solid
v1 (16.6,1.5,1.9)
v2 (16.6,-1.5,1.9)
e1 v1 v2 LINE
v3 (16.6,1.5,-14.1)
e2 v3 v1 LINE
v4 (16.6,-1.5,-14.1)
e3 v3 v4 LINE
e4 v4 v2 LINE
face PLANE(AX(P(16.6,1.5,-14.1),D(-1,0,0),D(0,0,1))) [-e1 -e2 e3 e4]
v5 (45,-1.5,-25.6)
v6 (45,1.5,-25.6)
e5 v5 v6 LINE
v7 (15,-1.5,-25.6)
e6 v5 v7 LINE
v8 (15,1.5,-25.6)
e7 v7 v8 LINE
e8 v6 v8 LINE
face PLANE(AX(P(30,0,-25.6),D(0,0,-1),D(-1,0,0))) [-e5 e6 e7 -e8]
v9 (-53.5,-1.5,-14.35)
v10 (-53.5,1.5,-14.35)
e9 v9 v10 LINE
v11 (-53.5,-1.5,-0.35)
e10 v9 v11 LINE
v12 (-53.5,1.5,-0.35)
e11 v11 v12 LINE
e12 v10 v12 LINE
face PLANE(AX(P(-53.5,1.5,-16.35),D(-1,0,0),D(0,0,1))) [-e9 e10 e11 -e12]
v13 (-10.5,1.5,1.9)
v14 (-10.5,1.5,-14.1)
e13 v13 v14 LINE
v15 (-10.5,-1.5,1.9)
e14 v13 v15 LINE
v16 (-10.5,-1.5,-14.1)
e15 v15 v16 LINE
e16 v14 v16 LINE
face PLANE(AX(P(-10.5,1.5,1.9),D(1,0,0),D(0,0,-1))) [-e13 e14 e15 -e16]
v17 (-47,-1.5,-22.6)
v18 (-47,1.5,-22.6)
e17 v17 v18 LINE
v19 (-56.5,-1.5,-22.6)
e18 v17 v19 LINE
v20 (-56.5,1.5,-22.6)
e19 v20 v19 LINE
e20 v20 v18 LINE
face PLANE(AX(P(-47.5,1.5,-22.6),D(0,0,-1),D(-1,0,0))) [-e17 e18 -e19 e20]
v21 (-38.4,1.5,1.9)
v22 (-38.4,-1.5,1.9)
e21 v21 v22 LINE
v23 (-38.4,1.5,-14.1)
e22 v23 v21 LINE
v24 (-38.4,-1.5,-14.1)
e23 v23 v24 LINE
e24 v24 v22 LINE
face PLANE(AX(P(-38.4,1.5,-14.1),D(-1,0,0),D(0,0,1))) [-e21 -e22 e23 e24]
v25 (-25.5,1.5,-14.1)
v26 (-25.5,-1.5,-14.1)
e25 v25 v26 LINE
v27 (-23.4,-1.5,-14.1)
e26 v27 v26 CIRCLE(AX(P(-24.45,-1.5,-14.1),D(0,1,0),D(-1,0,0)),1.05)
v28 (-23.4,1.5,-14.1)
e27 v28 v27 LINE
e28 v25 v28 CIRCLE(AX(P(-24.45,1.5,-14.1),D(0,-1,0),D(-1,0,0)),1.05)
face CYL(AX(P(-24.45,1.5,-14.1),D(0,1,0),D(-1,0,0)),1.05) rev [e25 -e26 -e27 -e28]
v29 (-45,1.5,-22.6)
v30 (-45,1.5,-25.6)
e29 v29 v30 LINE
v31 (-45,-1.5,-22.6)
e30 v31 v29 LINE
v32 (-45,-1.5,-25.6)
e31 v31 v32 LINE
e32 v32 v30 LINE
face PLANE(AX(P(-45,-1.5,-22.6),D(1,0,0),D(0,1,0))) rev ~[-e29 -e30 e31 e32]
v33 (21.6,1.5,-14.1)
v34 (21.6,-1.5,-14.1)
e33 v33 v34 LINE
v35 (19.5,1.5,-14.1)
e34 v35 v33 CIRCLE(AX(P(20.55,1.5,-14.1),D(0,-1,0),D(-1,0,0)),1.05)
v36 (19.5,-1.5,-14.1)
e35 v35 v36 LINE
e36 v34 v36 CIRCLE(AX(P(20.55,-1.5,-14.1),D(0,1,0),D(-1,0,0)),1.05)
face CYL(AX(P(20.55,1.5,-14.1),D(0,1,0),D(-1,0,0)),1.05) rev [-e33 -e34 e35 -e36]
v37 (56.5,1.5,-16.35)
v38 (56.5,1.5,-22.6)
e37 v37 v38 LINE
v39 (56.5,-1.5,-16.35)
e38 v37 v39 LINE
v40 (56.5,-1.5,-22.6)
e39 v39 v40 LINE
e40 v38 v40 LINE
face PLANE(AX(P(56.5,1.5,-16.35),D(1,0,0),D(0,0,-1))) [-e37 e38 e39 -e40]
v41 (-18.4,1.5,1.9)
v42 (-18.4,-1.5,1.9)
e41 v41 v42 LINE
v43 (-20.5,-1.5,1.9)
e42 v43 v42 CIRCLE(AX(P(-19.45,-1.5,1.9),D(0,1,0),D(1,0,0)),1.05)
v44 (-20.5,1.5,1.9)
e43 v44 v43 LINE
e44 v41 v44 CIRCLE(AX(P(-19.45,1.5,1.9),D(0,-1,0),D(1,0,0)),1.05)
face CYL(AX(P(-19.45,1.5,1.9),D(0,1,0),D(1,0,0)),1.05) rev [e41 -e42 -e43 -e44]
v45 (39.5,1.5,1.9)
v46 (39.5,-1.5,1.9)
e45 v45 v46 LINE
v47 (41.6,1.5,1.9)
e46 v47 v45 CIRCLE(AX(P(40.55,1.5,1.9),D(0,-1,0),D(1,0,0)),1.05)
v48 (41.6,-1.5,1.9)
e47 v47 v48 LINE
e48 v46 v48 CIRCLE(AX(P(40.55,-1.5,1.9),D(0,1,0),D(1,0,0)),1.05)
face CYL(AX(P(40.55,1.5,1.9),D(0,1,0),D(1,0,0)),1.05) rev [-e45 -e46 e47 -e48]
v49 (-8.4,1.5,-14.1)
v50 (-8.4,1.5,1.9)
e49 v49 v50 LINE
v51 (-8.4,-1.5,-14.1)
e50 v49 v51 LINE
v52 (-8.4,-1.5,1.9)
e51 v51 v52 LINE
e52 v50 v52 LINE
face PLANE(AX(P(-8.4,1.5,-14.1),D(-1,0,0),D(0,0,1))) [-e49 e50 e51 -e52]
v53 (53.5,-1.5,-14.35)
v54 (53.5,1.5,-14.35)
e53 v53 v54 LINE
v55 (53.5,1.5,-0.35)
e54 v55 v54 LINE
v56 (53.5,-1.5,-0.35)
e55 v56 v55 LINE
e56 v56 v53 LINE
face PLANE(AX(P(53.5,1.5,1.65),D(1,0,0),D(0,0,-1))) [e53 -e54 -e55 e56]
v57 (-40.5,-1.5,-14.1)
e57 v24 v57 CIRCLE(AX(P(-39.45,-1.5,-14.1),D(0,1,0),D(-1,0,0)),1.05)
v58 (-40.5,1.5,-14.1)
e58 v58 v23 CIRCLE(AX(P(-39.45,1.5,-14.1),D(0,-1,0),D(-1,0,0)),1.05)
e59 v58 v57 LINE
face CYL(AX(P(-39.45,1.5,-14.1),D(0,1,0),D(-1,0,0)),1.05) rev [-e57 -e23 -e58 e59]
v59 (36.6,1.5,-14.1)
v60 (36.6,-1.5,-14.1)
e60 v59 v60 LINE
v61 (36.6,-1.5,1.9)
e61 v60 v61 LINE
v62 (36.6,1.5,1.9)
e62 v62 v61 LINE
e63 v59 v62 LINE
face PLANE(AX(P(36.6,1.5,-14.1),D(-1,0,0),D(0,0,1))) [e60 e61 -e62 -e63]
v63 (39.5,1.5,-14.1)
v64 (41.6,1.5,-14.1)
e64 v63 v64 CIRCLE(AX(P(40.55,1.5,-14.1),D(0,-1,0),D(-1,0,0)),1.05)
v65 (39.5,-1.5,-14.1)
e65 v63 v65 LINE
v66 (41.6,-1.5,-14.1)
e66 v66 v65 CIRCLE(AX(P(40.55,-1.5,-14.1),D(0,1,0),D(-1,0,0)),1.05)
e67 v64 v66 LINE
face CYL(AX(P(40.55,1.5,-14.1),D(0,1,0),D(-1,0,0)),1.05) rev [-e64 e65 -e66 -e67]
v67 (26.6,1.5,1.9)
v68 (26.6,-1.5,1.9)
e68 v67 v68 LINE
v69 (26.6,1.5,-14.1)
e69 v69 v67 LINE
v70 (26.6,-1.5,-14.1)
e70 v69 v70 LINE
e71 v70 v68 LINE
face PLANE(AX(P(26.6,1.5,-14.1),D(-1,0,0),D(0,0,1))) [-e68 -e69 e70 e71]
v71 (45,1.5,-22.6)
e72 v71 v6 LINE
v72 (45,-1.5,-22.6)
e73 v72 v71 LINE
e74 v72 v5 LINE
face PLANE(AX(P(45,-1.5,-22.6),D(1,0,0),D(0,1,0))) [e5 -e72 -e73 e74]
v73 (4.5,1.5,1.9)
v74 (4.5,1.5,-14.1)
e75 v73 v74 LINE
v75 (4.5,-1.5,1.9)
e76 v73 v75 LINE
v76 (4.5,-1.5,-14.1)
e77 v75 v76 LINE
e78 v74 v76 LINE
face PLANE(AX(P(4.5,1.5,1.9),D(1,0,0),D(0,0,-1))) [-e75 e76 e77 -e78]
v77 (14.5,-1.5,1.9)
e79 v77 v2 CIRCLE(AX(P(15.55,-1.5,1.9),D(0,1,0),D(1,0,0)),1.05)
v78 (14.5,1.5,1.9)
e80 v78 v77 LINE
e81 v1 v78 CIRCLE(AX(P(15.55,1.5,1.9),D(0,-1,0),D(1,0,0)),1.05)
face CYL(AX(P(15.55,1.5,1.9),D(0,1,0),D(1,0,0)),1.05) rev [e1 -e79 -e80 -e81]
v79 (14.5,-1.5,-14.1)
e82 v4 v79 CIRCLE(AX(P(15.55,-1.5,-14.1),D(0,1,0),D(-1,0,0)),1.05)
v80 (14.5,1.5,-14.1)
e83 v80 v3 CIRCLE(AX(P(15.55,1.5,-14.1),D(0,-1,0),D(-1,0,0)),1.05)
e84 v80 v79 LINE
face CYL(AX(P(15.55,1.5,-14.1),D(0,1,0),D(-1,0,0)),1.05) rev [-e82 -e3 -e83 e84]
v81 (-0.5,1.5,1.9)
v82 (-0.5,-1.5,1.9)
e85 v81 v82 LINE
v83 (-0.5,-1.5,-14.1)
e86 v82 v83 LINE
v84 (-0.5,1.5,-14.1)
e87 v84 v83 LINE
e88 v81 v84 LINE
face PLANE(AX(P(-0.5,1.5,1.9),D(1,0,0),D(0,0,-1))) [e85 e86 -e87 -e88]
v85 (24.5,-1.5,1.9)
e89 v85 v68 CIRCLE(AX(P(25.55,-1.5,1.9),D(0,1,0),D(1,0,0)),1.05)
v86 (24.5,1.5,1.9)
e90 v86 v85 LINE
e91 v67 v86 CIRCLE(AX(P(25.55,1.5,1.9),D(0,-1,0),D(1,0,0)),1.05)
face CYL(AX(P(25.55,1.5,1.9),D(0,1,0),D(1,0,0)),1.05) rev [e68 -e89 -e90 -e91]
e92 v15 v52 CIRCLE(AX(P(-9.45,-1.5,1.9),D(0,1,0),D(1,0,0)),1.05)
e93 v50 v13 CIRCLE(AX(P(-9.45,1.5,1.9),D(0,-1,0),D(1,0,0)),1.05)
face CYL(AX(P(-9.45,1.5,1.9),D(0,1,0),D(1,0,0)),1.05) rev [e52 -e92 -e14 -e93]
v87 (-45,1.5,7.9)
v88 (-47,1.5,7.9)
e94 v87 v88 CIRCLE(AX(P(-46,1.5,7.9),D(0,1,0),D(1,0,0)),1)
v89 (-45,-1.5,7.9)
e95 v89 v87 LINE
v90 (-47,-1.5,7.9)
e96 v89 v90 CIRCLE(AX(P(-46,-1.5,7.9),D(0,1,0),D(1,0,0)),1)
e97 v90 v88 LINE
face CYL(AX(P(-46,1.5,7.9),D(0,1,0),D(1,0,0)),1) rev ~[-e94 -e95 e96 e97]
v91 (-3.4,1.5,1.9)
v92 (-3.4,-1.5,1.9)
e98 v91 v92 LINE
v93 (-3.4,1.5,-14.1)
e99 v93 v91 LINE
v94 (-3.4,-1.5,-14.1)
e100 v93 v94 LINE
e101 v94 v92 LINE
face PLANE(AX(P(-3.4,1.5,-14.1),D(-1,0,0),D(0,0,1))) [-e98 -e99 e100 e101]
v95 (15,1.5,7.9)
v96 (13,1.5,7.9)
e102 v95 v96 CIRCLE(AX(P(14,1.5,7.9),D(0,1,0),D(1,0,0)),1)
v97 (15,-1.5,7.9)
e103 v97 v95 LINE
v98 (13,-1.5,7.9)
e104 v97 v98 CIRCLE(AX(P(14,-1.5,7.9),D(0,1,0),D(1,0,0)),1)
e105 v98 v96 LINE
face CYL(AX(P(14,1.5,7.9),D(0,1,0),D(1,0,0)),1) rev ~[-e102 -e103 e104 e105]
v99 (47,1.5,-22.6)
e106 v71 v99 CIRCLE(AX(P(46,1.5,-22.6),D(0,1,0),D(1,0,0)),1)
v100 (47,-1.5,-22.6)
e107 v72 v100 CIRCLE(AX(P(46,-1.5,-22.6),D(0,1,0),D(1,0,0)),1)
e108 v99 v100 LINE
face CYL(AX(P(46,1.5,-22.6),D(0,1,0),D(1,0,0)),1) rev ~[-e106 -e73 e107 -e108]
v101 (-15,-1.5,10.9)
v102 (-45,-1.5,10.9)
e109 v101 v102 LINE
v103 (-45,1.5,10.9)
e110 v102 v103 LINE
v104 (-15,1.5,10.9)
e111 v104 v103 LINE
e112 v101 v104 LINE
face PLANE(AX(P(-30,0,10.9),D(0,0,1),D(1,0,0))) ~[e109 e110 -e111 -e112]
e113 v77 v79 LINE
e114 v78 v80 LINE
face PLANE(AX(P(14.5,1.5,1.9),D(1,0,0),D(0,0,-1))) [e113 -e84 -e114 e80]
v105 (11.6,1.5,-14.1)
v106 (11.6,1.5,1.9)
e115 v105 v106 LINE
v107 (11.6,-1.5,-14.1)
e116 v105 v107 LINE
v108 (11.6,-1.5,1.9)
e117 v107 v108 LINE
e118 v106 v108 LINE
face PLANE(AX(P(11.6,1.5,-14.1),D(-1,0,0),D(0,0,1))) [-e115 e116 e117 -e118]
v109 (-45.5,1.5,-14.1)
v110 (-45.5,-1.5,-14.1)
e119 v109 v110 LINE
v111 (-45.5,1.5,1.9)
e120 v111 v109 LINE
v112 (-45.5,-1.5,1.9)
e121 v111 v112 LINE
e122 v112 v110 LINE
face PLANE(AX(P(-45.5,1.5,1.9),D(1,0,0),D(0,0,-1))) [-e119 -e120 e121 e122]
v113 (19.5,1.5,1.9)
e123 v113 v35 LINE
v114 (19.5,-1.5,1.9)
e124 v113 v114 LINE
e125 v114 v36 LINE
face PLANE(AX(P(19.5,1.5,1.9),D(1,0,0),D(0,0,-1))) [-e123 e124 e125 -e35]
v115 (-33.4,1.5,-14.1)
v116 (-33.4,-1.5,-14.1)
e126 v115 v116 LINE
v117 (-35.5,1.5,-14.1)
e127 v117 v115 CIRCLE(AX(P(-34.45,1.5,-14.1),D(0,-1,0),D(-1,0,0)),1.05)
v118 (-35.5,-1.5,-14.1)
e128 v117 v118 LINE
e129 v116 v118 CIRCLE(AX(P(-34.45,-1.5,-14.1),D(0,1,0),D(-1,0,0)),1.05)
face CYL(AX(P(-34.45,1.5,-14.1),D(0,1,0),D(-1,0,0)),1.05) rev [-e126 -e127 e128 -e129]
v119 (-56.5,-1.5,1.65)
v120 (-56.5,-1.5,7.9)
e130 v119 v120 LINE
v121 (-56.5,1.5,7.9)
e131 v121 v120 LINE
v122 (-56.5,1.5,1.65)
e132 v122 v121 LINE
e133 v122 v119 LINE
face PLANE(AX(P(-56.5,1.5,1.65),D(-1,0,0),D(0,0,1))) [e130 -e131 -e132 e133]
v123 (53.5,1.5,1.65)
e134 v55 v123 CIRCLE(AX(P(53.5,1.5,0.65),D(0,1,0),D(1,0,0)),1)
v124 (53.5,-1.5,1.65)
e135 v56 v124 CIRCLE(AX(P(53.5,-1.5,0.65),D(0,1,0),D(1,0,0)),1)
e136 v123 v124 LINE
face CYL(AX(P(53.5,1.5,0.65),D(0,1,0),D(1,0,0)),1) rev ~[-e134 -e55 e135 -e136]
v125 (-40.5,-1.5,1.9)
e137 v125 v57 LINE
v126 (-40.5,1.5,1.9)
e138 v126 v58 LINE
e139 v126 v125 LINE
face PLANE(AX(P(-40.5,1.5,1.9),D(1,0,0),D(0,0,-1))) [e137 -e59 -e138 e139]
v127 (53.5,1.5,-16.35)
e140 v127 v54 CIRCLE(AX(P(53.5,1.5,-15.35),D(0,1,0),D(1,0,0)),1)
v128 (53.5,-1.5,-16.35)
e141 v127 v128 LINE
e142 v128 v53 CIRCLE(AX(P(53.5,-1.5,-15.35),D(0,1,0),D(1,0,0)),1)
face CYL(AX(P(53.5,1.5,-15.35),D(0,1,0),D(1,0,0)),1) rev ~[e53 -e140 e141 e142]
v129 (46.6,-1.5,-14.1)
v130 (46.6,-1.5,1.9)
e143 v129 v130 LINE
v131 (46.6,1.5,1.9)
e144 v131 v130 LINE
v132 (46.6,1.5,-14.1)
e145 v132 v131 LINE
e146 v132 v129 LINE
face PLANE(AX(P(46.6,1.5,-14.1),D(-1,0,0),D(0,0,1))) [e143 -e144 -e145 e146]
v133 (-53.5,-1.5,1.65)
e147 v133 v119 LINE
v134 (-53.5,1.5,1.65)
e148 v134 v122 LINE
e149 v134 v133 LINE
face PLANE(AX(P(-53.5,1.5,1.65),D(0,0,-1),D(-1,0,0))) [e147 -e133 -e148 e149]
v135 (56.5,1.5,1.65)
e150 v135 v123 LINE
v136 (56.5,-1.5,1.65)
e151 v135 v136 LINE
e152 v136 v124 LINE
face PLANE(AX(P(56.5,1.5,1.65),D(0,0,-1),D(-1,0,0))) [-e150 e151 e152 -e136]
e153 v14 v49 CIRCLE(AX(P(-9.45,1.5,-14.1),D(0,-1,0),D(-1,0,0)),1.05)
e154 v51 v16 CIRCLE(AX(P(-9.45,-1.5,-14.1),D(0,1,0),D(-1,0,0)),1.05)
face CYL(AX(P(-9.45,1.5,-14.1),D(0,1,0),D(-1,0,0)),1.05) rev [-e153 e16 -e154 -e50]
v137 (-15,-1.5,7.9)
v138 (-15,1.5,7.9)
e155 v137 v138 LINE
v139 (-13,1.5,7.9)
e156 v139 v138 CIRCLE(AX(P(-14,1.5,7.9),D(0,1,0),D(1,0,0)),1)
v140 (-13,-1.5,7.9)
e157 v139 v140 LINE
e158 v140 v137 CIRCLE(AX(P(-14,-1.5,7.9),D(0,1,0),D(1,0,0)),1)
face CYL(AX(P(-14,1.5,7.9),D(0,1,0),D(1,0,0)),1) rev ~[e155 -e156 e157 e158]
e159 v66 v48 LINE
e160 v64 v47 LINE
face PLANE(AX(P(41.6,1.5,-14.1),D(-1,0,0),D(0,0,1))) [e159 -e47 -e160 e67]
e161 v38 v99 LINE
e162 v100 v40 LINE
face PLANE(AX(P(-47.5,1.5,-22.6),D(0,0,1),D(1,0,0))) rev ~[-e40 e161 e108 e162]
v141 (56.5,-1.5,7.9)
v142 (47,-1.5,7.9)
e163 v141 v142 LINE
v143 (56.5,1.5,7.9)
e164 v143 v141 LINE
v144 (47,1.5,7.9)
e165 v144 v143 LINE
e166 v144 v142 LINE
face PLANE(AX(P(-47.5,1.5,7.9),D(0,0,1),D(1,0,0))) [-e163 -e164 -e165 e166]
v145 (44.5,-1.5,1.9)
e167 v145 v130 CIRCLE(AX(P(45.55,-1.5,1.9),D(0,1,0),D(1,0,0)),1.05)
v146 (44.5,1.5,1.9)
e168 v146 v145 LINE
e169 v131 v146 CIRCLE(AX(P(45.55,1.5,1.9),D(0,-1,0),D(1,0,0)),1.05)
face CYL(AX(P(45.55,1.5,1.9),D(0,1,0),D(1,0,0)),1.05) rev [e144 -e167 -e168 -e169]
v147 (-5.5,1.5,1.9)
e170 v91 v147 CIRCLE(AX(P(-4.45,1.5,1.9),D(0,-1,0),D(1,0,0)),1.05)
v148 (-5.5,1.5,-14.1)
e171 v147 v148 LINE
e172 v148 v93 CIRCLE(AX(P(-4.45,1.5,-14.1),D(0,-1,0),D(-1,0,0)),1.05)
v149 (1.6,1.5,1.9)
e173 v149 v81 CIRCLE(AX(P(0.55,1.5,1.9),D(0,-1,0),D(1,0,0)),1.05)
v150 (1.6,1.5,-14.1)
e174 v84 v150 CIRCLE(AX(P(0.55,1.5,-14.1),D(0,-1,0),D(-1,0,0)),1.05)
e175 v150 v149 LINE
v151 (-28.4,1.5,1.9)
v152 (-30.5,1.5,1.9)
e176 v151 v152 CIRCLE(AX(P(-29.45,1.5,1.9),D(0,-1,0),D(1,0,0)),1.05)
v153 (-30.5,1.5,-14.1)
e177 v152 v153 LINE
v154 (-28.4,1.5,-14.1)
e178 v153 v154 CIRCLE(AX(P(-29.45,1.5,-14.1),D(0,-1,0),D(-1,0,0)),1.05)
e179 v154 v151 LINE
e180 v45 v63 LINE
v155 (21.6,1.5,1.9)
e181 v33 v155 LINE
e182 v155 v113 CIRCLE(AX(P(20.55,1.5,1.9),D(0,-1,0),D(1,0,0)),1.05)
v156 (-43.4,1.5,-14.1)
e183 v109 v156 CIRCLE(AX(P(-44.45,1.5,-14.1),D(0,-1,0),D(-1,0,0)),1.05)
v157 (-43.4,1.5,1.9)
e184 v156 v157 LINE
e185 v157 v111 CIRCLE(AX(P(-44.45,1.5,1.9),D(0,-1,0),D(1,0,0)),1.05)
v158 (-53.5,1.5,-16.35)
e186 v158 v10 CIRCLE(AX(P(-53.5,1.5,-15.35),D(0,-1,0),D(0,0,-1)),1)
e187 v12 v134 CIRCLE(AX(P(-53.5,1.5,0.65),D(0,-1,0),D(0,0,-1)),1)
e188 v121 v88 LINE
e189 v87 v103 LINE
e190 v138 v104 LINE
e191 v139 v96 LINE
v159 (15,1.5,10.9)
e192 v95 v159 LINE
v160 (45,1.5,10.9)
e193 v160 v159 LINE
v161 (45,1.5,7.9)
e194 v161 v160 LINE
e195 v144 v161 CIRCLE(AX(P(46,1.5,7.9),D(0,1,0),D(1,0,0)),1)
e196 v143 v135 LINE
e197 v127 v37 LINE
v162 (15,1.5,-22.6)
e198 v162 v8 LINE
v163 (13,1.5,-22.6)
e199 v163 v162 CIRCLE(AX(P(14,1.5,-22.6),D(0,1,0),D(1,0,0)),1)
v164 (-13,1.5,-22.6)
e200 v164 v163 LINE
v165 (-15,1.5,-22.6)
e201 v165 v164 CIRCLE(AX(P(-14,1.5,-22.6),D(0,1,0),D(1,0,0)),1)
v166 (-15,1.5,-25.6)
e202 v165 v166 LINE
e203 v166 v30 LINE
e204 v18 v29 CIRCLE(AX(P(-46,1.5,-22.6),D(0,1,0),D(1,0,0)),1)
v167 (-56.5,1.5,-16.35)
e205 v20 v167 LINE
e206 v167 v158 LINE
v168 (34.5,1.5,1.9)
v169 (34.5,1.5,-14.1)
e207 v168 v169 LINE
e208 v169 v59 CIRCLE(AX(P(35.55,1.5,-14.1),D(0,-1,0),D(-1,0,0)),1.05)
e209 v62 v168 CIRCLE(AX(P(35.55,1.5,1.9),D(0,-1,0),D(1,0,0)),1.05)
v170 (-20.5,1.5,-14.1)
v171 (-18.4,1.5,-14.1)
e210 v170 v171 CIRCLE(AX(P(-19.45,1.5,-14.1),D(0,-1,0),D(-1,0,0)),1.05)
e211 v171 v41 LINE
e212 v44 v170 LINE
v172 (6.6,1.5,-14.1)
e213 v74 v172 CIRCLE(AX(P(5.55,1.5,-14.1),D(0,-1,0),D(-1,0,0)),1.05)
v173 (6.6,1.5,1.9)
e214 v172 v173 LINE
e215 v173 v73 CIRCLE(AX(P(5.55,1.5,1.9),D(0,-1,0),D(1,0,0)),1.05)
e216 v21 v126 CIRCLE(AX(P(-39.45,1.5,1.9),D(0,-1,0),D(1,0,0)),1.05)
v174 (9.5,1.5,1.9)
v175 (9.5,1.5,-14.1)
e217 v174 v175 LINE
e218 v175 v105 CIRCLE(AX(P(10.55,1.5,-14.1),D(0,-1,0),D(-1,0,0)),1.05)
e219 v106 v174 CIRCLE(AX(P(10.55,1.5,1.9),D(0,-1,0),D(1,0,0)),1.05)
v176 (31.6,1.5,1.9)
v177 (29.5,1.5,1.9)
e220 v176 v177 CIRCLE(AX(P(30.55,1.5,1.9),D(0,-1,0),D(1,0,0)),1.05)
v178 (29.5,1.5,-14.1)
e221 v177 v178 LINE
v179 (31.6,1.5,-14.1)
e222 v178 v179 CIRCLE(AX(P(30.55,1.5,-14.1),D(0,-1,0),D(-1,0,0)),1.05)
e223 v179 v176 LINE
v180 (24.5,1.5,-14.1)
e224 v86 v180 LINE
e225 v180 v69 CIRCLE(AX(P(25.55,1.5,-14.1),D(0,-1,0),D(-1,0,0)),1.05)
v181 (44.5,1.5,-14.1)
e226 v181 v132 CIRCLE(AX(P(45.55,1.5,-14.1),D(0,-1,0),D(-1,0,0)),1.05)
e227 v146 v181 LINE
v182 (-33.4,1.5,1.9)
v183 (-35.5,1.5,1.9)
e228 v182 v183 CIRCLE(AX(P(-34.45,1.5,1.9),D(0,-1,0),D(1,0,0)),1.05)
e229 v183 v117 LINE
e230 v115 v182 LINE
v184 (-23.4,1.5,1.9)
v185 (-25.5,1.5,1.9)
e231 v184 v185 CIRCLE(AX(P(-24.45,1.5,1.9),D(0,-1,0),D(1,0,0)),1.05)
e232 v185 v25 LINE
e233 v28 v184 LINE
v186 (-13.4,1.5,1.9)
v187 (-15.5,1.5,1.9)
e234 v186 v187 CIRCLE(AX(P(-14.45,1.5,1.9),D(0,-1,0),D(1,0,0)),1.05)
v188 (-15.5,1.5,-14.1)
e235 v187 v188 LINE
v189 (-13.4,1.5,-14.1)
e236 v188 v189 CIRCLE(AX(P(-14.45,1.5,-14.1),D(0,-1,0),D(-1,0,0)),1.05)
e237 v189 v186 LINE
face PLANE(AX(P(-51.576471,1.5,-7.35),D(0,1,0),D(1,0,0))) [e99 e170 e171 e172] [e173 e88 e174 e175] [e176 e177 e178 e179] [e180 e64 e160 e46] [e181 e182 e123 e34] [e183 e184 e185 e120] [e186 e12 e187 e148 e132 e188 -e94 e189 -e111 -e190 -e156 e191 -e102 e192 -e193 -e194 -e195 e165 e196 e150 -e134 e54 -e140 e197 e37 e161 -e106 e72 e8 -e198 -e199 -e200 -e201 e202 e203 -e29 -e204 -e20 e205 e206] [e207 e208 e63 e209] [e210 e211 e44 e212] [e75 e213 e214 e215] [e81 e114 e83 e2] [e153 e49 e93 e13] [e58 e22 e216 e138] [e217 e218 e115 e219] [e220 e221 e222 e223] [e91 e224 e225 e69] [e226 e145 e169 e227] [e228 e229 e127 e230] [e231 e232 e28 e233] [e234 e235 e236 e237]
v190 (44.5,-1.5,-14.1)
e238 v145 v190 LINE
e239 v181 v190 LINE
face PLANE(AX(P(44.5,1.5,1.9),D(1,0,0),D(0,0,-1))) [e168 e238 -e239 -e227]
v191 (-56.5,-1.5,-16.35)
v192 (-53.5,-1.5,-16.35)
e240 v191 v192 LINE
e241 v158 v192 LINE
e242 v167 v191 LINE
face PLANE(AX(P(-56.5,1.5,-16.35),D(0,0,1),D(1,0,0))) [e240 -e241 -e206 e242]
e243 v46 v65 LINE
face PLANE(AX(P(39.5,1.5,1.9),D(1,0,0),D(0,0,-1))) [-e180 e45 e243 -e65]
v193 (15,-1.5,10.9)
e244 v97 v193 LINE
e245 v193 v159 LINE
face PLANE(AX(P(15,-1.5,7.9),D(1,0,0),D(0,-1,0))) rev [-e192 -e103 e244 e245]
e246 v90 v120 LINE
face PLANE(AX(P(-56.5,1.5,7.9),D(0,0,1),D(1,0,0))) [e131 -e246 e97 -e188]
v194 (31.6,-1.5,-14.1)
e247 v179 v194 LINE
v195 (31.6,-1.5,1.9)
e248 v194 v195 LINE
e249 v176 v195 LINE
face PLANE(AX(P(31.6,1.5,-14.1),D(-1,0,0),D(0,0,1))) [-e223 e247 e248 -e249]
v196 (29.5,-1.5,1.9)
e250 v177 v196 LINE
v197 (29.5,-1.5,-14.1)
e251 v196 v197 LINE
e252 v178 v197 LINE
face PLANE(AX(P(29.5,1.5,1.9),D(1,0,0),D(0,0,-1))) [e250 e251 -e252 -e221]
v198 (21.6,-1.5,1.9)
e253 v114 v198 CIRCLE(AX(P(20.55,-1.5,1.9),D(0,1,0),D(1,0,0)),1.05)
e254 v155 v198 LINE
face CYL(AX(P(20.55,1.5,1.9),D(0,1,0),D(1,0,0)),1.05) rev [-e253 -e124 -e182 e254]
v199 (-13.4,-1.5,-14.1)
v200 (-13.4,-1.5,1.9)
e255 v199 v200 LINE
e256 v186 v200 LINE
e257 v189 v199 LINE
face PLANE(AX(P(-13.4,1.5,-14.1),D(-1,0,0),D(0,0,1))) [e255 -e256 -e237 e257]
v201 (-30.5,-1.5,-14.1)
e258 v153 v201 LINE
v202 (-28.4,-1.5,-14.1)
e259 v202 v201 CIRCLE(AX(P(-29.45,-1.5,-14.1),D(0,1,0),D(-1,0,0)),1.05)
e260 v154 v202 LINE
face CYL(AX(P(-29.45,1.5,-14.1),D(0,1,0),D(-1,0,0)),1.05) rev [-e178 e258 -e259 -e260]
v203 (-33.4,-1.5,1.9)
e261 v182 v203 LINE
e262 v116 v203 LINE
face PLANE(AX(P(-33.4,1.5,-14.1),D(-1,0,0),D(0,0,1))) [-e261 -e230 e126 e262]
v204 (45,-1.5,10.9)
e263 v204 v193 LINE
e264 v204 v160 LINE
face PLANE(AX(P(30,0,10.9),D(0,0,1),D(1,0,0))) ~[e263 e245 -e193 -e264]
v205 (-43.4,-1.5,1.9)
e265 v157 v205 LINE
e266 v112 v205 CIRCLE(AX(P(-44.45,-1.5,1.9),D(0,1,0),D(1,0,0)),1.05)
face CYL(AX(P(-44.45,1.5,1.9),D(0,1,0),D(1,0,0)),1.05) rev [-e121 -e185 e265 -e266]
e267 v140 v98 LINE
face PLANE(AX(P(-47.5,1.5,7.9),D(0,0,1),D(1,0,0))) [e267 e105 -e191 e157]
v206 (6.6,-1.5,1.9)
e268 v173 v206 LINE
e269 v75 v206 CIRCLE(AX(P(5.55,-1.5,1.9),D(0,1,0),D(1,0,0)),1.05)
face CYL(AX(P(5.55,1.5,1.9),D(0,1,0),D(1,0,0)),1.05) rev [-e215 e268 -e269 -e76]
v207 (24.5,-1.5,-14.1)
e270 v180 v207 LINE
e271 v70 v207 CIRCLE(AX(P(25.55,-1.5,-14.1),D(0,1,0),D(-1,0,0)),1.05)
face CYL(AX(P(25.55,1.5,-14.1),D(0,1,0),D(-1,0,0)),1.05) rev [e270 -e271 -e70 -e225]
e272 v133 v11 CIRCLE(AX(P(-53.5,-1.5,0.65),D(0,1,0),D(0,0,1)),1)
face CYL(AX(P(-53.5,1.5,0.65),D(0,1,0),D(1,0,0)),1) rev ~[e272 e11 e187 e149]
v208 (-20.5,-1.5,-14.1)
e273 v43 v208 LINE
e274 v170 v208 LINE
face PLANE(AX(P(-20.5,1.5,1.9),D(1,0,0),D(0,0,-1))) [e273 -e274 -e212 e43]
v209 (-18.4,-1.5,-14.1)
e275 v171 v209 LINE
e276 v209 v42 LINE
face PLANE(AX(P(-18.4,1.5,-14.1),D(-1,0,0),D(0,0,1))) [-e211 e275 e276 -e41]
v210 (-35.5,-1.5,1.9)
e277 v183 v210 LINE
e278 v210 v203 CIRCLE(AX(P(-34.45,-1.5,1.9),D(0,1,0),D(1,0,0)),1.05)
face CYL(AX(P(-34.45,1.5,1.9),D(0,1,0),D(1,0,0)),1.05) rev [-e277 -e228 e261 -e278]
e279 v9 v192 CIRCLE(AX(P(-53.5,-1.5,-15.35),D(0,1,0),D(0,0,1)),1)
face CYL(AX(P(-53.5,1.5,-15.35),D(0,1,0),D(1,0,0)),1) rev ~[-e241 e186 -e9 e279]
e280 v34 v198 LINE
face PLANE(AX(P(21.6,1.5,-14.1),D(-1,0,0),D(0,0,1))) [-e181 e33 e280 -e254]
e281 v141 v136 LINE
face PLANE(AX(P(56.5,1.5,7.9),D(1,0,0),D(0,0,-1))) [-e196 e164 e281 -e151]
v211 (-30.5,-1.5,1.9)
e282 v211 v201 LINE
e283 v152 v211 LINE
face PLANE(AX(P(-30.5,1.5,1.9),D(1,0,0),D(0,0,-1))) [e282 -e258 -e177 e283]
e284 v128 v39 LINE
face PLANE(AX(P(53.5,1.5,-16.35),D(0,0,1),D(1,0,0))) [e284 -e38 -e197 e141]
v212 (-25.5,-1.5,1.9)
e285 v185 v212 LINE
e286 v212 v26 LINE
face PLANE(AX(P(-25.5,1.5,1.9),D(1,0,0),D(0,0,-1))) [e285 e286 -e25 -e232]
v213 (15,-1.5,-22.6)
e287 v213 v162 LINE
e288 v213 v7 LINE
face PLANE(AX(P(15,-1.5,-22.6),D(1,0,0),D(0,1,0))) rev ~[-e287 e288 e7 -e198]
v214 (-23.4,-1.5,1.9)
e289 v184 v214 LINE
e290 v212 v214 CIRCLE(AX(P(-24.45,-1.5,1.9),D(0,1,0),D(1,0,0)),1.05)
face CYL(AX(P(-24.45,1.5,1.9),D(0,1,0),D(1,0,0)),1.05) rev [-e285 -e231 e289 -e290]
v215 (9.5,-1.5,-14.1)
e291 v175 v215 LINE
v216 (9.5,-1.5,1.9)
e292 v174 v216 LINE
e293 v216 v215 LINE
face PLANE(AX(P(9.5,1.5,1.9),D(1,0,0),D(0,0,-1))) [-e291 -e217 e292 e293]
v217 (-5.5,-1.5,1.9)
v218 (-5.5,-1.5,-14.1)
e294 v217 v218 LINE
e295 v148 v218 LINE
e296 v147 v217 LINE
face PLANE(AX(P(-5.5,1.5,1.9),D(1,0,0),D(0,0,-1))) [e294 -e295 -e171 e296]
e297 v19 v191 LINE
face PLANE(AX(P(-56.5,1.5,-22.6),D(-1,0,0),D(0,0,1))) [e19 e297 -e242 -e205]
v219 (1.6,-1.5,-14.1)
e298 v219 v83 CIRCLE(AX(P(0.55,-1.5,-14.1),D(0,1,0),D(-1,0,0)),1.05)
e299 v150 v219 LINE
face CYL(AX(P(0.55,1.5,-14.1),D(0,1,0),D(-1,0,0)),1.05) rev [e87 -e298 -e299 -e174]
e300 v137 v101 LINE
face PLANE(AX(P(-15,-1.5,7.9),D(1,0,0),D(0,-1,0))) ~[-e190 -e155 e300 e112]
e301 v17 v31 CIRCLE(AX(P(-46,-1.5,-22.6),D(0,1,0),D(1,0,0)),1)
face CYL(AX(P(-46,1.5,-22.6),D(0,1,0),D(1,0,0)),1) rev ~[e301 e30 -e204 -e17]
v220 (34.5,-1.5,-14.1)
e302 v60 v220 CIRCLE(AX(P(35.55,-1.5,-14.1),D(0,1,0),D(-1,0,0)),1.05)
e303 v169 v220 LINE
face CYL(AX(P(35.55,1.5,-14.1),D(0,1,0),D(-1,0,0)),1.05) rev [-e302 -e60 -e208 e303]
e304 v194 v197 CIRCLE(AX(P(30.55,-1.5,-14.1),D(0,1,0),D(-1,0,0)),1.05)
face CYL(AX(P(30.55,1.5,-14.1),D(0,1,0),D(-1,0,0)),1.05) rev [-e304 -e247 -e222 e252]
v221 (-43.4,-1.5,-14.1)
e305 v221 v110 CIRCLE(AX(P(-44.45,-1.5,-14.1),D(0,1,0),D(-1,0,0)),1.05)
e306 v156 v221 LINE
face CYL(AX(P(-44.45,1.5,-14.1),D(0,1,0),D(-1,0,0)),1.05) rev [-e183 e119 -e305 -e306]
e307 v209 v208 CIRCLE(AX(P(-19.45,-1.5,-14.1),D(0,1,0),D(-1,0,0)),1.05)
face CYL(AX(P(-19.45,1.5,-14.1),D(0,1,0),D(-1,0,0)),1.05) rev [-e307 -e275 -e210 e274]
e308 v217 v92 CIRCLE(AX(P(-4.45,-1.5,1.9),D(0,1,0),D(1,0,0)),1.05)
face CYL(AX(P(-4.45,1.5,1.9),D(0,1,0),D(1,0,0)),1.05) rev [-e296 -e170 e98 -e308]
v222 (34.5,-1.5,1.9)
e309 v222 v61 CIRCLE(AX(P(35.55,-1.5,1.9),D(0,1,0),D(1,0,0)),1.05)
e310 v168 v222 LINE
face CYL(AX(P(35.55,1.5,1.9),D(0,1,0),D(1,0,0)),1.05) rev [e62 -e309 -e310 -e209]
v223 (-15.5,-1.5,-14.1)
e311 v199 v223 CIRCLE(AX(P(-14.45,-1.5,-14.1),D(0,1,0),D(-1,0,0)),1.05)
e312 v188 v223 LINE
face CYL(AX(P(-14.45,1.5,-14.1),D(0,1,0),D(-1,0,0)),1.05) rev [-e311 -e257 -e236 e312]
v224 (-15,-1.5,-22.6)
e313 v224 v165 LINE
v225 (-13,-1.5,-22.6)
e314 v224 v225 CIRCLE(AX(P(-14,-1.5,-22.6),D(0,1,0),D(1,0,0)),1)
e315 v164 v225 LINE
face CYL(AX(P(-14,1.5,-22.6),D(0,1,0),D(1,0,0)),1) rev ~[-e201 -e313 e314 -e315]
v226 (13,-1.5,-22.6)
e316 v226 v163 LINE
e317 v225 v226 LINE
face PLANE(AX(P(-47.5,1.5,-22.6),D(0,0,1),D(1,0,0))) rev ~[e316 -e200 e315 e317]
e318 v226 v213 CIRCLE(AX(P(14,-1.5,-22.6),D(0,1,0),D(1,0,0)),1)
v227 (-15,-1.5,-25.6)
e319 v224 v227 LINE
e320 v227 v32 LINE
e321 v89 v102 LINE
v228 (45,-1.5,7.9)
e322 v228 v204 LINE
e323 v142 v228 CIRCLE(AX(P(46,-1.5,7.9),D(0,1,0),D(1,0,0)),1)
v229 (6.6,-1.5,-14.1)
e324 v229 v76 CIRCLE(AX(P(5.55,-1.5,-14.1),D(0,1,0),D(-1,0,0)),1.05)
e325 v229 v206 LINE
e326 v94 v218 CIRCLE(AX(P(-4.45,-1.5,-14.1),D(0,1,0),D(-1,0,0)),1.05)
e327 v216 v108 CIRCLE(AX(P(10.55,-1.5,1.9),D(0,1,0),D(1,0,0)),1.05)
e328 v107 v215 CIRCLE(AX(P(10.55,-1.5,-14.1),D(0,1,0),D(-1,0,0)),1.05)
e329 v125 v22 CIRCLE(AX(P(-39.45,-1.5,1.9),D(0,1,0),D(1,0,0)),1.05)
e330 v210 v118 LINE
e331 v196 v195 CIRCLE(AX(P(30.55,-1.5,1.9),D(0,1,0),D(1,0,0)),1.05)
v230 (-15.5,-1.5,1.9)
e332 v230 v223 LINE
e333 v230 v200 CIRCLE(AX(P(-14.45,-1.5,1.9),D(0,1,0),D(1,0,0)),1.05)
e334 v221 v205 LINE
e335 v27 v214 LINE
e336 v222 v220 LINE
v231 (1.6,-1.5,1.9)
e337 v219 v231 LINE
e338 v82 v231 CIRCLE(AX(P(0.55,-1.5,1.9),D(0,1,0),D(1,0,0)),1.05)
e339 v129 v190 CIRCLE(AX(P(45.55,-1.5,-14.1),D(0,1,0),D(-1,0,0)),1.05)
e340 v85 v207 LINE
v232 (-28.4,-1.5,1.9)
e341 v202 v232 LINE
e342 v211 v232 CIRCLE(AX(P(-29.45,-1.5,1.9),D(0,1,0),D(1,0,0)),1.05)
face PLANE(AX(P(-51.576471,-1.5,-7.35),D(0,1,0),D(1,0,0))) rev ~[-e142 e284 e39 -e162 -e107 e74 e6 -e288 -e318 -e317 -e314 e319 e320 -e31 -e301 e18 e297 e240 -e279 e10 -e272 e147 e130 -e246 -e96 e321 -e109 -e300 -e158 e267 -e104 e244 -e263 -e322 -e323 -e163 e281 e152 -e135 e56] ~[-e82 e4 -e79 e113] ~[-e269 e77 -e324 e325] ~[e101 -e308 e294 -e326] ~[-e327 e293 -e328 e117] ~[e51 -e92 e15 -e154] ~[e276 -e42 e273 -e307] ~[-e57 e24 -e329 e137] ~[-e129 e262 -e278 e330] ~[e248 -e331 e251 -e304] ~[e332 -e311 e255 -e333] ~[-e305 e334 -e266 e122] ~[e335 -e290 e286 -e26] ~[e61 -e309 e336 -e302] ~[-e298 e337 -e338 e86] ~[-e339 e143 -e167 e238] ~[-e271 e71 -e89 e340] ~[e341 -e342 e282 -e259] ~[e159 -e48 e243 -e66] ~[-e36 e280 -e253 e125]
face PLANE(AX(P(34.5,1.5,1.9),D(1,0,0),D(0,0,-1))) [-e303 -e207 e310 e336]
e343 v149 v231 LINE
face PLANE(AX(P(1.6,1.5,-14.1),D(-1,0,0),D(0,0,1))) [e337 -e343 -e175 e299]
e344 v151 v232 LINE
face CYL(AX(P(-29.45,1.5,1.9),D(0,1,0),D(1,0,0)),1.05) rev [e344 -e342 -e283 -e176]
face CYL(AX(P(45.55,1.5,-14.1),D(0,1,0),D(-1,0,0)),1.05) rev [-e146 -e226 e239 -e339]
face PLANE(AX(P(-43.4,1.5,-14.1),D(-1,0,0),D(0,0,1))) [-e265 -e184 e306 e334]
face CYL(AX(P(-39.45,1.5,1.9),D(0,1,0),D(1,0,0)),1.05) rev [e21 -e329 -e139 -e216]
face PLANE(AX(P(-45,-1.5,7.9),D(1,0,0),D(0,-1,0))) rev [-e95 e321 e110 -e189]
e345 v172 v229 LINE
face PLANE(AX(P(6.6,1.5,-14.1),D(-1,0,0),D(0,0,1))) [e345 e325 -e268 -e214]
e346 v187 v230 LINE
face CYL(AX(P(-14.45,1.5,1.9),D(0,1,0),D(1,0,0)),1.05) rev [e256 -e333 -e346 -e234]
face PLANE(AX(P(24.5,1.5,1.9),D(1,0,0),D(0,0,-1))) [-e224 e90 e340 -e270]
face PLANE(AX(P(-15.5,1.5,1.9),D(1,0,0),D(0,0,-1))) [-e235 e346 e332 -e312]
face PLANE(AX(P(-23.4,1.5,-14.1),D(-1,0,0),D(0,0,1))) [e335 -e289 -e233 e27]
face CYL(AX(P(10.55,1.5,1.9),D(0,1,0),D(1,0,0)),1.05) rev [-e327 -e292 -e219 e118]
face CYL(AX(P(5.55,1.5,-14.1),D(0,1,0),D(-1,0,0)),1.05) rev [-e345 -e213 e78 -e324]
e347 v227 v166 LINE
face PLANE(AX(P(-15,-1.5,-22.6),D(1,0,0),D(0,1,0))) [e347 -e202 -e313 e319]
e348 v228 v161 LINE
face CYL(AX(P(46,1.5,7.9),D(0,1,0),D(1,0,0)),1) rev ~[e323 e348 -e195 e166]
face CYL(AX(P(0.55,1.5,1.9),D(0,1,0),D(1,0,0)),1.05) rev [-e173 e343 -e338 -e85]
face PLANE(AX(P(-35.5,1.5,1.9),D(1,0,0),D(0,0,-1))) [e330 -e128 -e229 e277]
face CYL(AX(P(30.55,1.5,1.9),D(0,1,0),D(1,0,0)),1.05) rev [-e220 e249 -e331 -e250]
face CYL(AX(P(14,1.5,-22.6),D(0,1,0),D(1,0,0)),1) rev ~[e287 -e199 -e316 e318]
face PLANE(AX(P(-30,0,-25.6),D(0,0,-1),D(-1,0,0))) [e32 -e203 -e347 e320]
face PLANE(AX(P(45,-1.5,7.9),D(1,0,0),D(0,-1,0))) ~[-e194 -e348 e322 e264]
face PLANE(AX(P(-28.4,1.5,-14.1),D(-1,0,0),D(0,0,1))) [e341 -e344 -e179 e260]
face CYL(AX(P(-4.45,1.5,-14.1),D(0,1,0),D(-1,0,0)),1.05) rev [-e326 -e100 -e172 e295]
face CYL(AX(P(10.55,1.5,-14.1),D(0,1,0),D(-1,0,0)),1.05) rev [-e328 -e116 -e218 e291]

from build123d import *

# Parameters (mm, degrees)
EXTRUDE_1_DEPTH        = 1.5
SKETCH_2_W             = 94.999999969
SKETCH_2_H             = 7.3
CUT_EXTRUDE_1_DEPTH    = 10
SKETCH_4_W             = 94.999999969
SKETCH_4_H             = 4
CUT_EXTRUDE_3_DEPTH    = 10
SKETCH_5_W             = 30
SKETCH_5_H             = 3
EXTRUDE_2_DEPTH        = 3
EXTRUDE_3_DEPTH        = 3
SKETCH_7_R             = 1
CUT_EXTRUDE_4_DEPTH    = 3
CUT_EXTRUDE_5_DEPTH    = 5
PATTERN_LINEAR_1_COUNT = 19
PATTERN_LINEAR_1_PITCH = 5


with BuildPart() as part:
    # 草图1 → 凸台-拉伸1 (new, symmetric)
    with BuildSketch(Plane(origin=(0, 0, 0), x_dir=(1, 0, 0), z_dir=(0, 1, 0))):
        Polygon((-47.5, 26.6), (-47.5, -15.2), (47.499999969, -15.2), (47.499999969, 26.600010084), align=None)
    extrude(amount=EXTRUDE_1_DEPTH, both=True)

    # 草图2 → 切除-拉伸1 (cut)
    with BuildSketch(Plane(origin=(0, 1.5, 0), x_dir=(1, 0, 0), z_dir=(0, 1, 0))):
        with Locations((-1.5e-08, -11.55)):
            Rectangle(SKETCH_2_W, SKETCH_2_H)
    extrude(amount=-CUT_EXTRUDE_1_DEPTH, mode=Mode.SUBTRACT)

    # 草图4 → 切除-拉伸3 (cut)
    with BuildSketch(Plane(origin=(0, 1.5, 0), x_dir=(1, 0, 0), z_dir=(0, 1, 0))):
        with Locations((-1.5e-08, 24.6)):
            Rectangle(SKETCH_4_W, SKETCH_4_H)
    extrude(amount=-CUT_EXTRUDE_3_DEPTH, mode=Mode.SUBTRACT)


with BuildPart() as cut_extrude_3_kept_piece:
    # of the separate pieces the step leaves, the one the design keeps (cut_extrude_3_pieces_kept)
    add(part.part.solids().sort_by_distance((-47.5, 1.5, -22.6))[0])

    # 草图5 → 凸台-拉伸2 (add)
    with BuildSketch(Plane(origin=(0, 0, -22.6), x_dir=(-1, 0, 0), z_dir=(0, 0, -1))):
        with Locations((30, 0)):
            Rectangle(SKETCH_5_W, SKETCH_5_H)
        with Locations((-30, 0)):
            Rectangle(SKETCH_5_W, SKETCH_5_H)
    extrude_2 = extrude(amount=EXTRUDE_2_DEPTH)

    # 镜向1: 凸台-拉伸2 across plane
    add(extrude_2.mirror(Plane(origin=(0, 0, -7.35), x_dir=(1, 0, 0), z_dir=(0, 0, -1))))

    # 草图8 → 凸台-拉伸3 (add)
    with BuildSketch(Plane(origin=(0, 1.5, 0), x_dir=(1, 0, 0), z_dir=(0, 1, 0))):
        Polygon((-47.5, -7.9), (-47.5, 22.6), (-56.5, 22.6), (-56.5, 16.35), (-53.5, 16.35), (-53.5, -1.65), (-56.5, -1.65), (-56.5, -7.9), align=None)
        Polygon((56.5, -7.9), (56.5, -1.65), (53.5, -1.65), (53.5, 16.35), (56.5, 16.35), (56.5, 22.6), (47.5, 22.6), (47.5, -7.9), align=None)
    extrude(amount=-EXTRUDE_3_DEPTH)

    # 草图7 → 切除-拉伸4 (cut)
    with BuildSketch(Plane(origin=(0, 1.5, 0), x_dir=(1, 0, 0), z_dir=(0, 1, 0))):
        with Locations((-14, 22.6)):
            Circle(SKETCH_7_R)
        with Locations((14, 22.6)):
            Circle(SKETCH_7_R)
        with Locations((46, 22.6)):
            Circle(SKETCH_7_R)
        with Locations((46, -7.9)):
            Circle(SKETCH_7_R)
        with Locations((14, -7.9)):
            Circle(SKETCH_7_R)
        with Locations((-14, -7.9)):
            Circle(SKETCH_7_R)
        with Locations((-46, -7.9)):
            Circle(SKETCH_7_R)
        with Locations((-46, 22.6)):
            Circle(SKETCH_7_R)
        with Locations((-53.5, 15.35)):
            Circle(SKETCH_7_R)
        with Locations((-53.5, -0.65)):
            Circle(SKETCH_7_R)
        with Locations((53.5, -0.65)):
            Circle(SKETCH_7_R)
        with Locations((53.5, 15.35)):
            Circle(SKETCH_7_R)
    extrude(amount=-CUT_EXTRUDE_4_DEPTH, mode=Mode.SUBTRACT)

    # 草图9 → 切除-拉伸5 (cut)
    with BuildSketch(Plane(origin=(0, 1.5, 0), x_dir=(1, 0, 0), z_dir=(0, 1, 0))):
        with BuildLine():
            Line((-45.5, -1.9), (-45.5, 14.1))
            ThreePointArc((-45.5, 14.1), (-44.45, 15.15), (-43.4, 14.1))
            Line((-43.4, 14.1), (-43.4, -1.9))
            ThreePointArc((-43.4, -1.9), (-44.45, -2.95), (-45.5, -1.9))
        make_face()
    cut_extrude_5 = extrude(amount=-CUT_EXTRUDE_5_DEPTH, mode=Mode.SUBTRACT)

    # 阵列(线性)1: 切除-拉伸5 ×19
    with Locations(*[(i * PATTERN_LINEAR_1_PITCH, 0, 0) for i in range(1, PATTERN_LINEAR_1_COUNT)]):
        add(cut_extrude_5, mode=Mode.SUBTRACT)


solid = cut_extrude_3_kept_piece.part
